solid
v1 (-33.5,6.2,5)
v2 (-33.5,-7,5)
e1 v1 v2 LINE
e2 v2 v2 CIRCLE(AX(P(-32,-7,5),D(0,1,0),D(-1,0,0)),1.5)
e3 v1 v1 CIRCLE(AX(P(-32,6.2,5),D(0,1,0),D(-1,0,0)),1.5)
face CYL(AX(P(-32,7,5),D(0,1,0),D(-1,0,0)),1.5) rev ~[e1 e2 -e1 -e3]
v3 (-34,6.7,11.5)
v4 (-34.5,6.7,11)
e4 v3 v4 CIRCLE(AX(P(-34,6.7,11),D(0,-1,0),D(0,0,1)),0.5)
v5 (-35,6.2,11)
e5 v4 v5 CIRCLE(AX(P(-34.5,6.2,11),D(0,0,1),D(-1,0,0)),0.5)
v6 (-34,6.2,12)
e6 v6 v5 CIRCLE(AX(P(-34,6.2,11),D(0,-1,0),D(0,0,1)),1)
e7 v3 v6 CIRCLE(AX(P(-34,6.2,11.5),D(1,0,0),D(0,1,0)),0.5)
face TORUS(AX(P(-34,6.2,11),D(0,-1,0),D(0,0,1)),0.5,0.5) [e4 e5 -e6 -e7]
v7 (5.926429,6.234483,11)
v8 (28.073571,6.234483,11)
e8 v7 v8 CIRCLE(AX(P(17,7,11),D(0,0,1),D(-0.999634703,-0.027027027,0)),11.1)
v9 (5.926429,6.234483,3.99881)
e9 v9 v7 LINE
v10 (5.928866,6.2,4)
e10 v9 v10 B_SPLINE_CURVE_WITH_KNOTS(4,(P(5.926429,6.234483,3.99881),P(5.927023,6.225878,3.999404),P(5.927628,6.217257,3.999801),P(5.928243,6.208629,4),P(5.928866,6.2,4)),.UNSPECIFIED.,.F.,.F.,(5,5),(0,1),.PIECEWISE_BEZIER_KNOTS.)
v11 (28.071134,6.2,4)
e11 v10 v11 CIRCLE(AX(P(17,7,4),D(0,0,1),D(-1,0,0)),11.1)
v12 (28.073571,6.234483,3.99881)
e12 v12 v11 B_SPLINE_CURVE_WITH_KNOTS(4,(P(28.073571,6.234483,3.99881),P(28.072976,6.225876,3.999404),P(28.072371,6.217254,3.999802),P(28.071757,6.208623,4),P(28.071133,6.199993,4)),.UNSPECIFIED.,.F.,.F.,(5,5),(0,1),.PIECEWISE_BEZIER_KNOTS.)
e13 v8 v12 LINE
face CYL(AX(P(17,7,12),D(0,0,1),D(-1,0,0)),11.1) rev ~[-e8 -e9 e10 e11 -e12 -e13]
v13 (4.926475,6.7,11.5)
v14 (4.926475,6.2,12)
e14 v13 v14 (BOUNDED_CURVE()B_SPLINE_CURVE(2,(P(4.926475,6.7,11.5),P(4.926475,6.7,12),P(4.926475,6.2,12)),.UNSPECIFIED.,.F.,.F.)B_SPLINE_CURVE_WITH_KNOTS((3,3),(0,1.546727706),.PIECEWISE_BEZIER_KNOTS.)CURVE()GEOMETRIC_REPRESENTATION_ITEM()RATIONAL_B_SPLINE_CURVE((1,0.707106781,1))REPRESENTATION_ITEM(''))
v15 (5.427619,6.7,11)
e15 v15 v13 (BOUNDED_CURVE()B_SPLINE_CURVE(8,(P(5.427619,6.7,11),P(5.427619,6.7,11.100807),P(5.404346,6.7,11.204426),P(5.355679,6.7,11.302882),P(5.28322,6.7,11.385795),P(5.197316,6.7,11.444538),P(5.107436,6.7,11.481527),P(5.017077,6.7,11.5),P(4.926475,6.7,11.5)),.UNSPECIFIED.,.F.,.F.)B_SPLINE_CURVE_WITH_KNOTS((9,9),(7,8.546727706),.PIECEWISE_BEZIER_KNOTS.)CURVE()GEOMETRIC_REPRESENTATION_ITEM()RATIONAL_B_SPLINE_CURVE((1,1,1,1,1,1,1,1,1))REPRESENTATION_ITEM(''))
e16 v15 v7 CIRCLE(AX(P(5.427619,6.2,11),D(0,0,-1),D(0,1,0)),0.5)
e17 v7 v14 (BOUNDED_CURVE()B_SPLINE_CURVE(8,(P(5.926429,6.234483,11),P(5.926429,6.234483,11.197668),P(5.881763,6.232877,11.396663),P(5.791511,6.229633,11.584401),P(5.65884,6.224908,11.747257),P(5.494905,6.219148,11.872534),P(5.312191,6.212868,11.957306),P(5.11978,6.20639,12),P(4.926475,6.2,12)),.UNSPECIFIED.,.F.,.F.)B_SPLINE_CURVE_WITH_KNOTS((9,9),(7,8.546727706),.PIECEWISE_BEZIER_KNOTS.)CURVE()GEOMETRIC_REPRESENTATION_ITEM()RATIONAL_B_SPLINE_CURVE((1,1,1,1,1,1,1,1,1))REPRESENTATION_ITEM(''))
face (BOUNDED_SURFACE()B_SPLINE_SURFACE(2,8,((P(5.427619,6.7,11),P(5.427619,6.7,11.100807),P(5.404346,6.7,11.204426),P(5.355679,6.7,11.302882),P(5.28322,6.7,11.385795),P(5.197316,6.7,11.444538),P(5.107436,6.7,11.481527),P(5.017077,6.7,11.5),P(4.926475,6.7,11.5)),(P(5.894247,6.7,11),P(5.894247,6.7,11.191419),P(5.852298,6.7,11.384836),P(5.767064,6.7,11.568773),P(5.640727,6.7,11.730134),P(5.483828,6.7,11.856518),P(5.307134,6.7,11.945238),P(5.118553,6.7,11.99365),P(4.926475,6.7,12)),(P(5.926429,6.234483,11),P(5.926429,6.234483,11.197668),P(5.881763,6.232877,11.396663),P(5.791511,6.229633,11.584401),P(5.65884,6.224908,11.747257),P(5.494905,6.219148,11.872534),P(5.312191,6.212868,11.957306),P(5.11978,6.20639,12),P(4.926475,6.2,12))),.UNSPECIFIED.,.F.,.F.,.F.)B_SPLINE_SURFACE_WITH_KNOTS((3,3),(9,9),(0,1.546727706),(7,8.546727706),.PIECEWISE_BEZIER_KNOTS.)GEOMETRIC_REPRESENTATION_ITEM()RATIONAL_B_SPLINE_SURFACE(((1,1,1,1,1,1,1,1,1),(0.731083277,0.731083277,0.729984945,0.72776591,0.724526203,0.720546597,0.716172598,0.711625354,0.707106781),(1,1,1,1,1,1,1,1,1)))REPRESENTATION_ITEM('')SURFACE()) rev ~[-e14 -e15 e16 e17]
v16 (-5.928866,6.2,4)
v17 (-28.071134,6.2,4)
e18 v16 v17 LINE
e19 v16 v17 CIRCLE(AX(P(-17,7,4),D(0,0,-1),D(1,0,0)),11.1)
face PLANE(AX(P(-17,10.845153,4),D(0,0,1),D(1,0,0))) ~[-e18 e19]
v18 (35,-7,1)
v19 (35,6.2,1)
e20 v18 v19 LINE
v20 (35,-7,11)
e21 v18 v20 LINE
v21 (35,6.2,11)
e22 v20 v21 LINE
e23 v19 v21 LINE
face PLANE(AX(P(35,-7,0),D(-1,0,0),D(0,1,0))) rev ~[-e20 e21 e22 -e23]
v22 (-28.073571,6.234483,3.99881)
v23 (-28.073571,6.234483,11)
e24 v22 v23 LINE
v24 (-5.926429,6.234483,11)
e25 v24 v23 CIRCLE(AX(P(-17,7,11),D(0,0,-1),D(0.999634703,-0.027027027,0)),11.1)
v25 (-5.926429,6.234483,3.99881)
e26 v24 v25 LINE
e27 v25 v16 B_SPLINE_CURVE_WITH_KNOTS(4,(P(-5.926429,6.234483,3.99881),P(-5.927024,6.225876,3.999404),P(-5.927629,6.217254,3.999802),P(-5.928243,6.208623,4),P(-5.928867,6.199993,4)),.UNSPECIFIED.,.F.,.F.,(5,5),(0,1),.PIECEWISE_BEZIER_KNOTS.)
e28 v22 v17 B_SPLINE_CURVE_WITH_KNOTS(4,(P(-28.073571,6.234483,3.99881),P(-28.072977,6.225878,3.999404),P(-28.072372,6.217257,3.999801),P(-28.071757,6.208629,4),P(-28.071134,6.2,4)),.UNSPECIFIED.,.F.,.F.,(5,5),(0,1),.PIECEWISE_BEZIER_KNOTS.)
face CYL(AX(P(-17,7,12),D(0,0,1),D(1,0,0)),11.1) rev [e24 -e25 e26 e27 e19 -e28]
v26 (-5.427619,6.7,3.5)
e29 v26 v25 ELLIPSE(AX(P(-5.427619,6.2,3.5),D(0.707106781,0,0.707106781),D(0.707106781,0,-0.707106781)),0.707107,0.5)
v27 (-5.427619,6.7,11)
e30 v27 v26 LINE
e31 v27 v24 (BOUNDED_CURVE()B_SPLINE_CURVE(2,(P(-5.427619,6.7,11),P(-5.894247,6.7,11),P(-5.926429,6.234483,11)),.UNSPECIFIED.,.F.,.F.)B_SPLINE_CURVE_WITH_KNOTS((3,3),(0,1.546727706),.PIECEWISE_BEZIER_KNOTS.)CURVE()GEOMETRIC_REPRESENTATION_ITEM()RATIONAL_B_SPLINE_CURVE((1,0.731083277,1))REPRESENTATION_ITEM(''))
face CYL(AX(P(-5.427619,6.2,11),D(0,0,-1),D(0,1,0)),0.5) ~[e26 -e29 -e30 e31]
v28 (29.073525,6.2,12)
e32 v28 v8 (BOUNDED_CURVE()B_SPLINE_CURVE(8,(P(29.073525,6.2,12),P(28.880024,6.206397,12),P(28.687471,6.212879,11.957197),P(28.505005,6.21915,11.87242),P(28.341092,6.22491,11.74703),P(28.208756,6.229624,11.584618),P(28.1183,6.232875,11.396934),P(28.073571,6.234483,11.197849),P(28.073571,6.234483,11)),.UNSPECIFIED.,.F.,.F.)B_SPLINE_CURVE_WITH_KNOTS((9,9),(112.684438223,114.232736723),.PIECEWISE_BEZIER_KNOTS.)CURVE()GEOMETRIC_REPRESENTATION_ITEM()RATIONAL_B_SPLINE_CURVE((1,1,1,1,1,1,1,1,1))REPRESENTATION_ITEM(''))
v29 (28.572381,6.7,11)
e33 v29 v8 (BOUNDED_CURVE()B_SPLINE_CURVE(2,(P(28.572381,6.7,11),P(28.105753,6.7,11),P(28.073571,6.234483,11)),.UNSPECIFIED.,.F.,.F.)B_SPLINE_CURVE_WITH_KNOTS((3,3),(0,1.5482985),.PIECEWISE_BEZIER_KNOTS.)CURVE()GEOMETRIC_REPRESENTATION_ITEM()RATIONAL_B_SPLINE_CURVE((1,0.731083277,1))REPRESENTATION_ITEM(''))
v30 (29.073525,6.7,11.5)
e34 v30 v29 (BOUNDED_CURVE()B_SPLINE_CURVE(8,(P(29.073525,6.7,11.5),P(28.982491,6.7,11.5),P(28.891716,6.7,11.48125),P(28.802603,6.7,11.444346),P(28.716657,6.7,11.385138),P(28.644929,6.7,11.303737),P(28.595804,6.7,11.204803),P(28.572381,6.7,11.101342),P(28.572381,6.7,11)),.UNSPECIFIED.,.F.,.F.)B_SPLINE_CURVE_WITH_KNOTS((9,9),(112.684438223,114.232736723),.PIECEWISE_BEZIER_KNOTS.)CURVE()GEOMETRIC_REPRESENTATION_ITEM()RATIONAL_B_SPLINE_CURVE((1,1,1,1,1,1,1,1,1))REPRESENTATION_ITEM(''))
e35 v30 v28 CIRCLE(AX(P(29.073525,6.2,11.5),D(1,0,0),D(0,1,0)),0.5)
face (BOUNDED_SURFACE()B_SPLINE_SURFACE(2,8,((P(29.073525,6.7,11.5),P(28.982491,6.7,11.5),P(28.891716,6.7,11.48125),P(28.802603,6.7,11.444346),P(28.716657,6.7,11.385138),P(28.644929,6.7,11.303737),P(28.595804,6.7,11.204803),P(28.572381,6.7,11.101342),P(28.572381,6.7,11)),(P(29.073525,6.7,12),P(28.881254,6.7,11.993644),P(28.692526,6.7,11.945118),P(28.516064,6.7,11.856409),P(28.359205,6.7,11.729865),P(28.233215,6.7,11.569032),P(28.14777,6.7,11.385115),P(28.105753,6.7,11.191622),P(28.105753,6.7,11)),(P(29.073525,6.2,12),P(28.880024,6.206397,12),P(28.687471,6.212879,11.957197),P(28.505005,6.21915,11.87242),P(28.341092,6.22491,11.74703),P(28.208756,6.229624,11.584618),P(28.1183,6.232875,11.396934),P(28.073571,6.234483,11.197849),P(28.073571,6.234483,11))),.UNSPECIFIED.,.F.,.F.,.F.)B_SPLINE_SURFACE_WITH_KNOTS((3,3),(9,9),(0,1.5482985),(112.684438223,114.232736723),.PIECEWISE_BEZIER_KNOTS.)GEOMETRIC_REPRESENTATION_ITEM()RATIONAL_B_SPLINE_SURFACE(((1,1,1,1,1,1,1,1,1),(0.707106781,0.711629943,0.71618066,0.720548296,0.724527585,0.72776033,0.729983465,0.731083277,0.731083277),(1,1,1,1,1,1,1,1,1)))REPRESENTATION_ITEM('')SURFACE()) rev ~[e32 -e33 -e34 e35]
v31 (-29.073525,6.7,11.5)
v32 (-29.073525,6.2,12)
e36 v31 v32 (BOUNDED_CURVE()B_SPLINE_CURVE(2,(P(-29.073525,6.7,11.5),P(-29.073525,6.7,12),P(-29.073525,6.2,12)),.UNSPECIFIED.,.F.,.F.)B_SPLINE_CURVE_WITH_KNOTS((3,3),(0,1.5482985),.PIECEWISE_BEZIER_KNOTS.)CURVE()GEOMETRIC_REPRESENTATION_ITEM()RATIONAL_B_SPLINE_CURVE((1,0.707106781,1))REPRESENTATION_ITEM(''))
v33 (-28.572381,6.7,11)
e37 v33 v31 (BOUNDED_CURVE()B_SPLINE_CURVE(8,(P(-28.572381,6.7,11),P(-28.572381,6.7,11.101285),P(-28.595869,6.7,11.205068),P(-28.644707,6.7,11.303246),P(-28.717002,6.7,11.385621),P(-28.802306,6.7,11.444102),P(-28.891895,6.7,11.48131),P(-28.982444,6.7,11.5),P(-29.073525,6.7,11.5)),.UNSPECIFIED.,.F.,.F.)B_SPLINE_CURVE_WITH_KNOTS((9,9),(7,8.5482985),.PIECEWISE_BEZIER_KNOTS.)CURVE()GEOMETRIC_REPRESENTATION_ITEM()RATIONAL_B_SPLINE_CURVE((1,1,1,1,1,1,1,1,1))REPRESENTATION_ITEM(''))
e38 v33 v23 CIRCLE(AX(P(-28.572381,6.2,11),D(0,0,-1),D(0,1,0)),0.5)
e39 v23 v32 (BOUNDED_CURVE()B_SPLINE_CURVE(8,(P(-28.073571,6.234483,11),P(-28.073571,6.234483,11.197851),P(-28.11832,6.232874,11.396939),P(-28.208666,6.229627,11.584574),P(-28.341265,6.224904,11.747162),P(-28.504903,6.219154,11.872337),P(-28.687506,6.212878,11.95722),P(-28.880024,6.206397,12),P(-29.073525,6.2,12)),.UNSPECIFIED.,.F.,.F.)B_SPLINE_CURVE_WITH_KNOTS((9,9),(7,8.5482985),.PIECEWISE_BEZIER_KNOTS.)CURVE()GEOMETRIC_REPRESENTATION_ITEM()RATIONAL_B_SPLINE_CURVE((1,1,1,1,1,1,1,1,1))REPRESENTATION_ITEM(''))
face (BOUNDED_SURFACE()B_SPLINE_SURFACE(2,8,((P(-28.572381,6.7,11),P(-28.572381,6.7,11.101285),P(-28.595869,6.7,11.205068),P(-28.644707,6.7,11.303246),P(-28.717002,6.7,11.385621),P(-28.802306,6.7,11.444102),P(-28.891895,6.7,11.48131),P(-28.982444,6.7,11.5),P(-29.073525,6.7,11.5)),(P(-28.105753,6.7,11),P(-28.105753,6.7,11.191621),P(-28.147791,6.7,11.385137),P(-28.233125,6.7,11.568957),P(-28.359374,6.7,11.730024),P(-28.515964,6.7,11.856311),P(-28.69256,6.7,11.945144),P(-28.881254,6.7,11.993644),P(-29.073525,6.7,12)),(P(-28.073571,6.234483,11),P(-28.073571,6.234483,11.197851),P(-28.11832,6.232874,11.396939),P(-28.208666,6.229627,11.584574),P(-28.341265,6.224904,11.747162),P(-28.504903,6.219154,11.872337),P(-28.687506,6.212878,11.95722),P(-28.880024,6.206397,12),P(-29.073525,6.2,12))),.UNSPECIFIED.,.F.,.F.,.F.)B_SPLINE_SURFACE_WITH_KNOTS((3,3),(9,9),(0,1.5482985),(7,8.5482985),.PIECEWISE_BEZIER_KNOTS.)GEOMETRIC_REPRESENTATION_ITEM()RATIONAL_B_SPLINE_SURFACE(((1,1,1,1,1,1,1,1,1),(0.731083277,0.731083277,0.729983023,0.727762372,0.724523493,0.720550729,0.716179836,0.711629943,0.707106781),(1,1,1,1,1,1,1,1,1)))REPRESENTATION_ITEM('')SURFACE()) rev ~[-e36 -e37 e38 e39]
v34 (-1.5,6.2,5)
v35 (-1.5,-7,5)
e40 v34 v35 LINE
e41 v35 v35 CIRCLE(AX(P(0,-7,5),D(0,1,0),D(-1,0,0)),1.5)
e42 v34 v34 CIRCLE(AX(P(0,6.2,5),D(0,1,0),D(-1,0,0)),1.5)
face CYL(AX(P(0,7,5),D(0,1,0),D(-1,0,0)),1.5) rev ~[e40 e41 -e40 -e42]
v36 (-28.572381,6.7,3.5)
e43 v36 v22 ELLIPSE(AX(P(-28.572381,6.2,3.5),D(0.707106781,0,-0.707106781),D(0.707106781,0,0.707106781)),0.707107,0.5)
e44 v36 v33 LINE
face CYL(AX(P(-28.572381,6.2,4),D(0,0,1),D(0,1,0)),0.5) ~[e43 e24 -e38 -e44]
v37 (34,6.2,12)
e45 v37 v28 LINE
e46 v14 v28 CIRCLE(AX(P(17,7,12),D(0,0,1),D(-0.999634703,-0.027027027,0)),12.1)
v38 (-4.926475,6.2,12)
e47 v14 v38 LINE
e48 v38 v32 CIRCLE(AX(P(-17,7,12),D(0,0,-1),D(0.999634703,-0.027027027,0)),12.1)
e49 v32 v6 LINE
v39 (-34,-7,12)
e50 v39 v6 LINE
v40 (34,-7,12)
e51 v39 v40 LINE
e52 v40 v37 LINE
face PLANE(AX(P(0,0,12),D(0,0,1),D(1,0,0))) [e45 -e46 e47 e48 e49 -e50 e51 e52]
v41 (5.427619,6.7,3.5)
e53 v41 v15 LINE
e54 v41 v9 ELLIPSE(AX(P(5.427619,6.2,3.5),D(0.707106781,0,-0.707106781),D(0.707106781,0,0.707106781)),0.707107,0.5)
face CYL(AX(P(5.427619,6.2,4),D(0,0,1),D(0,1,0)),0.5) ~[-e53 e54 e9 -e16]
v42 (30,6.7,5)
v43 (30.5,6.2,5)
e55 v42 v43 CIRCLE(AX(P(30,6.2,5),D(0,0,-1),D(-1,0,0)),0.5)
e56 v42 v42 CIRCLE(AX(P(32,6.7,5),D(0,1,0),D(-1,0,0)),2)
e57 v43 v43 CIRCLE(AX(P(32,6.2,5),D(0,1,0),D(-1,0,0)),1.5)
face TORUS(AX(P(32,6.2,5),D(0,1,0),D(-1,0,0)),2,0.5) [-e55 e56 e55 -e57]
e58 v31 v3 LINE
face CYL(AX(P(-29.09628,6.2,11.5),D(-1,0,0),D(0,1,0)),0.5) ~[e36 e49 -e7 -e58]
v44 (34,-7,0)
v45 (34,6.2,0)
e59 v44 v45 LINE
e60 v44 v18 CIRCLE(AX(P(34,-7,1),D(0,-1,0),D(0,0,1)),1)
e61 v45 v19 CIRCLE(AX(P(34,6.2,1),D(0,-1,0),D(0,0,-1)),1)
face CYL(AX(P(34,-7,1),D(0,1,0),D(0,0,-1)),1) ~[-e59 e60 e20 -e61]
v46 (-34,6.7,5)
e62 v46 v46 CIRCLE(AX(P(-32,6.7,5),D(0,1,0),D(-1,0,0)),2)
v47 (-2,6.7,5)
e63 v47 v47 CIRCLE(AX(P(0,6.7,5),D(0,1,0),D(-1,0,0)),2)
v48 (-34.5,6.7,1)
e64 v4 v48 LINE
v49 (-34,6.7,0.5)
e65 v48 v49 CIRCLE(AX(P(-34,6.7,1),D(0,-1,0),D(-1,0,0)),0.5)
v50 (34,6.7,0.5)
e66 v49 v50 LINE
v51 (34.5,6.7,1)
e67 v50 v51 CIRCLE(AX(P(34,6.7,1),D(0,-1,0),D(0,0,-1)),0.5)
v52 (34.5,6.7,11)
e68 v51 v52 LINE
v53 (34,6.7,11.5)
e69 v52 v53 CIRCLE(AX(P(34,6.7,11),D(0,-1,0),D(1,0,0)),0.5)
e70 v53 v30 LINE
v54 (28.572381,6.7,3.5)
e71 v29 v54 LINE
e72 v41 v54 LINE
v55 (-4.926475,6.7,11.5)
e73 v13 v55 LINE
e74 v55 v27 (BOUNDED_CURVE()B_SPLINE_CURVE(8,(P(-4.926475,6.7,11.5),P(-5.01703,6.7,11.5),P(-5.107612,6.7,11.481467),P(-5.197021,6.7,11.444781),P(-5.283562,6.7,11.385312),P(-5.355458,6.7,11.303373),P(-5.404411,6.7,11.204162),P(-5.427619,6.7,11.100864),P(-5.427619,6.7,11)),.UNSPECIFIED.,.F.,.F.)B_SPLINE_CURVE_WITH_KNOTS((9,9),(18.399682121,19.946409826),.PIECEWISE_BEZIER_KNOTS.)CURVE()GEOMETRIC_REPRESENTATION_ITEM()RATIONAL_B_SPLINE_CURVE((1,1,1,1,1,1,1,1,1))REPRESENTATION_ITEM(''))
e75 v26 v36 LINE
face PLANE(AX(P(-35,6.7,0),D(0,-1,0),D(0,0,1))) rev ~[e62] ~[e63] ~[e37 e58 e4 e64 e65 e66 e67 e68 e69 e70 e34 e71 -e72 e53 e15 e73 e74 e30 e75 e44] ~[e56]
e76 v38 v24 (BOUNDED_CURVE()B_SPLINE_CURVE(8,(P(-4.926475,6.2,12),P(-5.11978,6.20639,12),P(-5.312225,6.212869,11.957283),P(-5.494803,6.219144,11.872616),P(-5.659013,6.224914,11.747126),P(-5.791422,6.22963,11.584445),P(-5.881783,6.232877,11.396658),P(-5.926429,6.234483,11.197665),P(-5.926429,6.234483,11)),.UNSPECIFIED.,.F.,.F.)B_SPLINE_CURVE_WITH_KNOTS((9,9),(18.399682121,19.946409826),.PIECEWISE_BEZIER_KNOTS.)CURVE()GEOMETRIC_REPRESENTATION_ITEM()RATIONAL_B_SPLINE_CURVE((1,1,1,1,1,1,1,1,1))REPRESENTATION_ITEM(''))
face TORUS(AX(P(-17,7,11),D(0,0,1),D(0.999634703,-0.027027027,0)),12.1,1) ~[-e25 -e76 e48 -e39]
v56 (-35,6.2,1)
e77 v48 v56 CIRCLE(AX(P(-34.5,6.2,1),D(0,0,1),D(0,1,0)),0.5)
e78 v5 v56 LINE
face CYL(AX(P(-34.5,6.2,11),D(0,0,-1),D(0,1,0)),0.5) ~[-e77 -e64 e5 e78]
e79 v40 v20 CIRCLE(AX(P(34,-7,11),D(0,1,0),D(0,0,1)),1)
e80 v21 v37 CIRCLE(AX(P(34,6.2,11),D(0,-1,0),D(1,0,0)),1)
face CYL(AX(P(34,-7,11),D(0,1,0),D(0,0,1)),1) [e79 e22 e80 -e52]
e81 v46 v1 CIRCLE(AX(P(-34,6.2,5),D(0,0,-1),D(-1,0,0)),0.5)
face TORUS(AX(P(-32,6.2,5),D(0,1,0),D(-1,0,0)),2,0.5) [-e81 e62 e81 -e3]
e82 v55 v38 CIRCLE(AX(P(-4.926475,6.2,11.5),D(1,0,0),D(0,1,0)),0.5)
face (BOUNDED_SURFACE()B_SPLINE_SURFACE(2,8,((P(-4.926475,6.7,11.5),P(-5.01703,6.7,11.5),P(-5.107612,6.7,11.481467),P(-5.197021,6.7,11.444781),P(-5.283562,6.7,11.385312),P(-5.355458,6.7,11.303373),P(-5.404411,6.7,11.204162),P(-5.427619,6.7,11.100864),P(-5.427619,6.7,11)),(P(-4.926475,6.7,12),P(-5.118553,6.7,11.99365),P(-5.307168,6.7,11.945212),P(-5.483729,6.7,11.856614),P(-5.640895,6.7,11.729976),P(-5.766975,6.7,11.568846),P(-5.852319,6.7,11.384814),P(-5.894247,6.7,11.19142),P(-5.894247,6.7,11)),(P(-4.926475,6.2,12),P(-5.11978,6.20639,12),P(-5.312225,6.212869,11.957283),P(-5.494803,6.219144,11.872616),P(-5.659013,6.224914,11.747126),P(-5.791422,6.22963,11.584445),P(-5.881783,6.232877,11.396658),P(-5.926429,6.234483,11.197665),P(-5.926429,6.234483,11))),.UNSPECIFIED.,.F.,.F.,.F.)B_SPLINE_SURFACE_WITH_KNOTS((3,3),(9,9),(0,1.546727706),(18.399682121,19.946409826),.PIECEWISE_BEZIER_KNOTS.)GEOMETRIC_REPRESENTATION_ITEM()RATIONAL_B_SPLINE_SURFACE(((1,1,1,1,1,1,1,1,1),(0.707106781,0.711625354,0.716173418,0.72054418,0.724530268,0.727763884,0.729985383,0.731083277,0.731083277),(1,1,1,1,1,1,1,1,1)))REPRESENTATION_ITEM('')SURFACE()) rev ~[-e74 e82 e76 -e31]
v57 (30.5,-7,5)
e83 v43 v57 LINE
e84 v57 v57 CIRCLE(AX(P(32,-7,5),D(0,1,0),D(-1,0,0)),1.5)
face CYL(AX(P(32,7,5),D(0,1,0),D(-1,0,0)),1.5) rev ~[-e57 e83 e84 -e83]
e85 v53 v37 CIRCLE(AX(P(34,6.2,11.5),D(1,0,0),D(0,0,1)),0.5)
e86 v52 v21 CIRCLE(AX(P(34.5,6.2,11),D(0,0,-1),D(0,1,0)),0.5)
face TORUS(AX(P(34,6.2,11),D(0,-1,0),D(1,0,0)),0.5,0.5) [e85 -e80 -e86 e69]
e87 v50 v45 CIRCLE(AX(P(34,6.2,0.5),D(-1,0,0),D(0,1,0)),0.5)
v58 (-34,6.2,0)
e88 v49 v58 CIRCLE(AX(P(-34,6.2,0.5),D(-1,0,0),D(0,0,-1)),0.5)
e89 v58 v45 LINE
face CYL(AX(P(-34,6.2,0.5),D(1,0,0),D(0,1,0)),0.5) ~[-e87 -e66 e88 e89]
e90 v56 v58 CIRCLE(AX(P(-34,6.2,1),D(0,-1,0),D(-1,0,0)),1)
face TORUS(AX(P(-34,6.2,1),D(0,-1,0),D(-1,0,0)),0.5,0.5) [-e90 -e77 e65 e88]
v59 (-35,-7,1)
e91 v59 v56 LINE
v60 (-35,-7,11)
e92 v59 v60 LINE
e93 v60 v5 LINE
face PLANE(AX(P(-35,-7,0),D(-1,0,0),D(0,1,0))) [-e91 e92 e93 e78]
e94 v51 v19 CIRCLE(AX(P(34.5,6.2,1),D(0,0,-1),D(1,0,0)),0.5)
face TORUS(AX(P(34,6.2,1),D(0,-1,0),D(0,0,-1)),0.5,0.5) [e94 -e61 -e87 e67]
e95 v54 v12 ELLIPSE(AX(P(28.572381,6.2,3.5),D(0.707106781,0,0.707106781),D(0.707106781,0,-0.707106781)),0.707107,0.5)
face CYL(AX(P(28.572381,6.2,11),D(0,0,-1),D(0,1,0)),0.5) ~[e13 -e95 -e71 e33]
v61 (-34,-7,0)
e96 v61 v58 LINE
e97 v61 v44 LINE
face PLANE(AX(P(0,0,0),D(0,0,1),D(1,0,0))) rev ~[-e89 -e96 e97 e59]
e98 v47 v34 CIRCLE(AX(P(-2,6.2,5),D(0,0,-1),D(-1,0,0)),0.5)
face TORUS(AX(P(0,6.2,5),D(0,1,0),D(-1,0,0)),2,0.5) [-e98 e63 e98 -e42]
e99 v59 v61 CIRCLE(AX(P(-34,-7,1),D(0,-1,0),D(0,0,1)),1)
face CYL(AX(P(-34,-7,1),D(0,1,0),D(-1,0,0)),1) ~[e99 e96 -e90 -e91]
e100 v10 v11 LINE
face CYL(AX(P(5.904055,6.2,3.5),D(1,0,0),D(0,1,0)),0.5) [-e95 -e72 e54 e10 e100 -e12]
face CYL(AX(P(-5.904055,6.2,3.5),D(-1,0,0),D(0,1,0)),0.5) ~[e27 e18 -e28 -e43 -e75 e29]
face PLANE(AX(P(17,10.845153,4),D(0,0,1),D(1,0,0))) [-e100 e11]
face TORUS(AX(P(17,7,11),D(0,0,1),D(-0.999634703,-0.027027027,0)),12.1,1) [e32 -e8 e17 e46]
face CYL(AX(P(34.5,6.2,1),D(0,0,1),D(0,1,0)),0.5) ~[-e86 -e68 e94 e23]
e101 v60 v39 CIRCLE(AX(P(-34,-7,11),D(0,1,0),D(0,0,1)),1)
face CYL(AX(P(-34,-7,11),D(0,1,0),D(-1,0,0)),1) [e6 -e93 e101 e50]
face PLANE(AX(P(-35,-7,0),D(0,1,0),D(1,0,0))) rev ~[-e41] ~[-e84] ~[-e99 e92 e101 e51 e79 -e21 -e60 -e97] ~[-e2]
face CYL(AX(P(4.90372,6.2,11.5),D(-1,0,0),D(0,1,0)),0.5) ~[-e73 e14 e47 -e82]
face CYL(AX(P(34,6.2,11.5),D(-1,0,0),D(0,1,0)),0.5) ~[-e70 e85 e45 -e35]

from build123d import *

# Parameters (mm, degrees)
SKETCH1_W           = 70
SKETCH1_H           = 14
BOSS_EXTRUDE1_DEPTH = 12
CUT_EXTRUDE1_DEPTH  = 8
SKETCH3_R           = 1.5
CUT_EXTRUDE2_DEPTH  = 40.56008089
SKETCH4_W           = 12
SKETCH4_H           = 0.3
CUT_EXTRUDE3_DEPTH  = 72.365257654
FILLET1_R           = 1
FILLET2_R           = 0.5


with BuildPart() as part:
    # Sketch1 → Boss-Extrude1 (new body)
    with BuildSketch(Plane.XY):
        Rectangle(SKETCH1_W, SKETCH1_H)
    extrude(amount=BOSS_EXTRUDE1_DEPTH)

    # Sketch2 → Cut-Extrude1 (cut)
    with BuildSketch(Plane.XY.offset(12)):
        with BuildLine():
            Line((5.9, 7), (28.1, 7))
            ThreePointArc((28.1, 7), (17, 18.1), (5.9, 7))
        make_face()
        with BuildLine():
            ThreePointArc((5.9, 7), (17, -4.1), (28.1, 7))
            Line((28.1, 7), (5.9, 7))
        make_face()
    cut_extrude1 = extrude(amount=-CUT_EXTRUDE1_DEPTH, mode=Mode.SUBTRACT)

    # Mirror1: Cut-Extrude1 across plane
    add(cut_extrude1.mirror(Plane(origin=(0, 0, 0), x_dir=(0, 0, 1), z_dir=(1, 0, 0))), mode=Mode.SUBTRACT)

    # Sketch3 → Cut-Extrude2 (cut, through all)
    with BuildSketch(Plane(origin=(0, 7, 0), x_dir=(1, 0, 0), z_dir=(0, 1, 0))):
        with Locations(Location((-32, -5, 0), (0, 0, 180))):
            Circle(SKETCH3_R)
        with Locations(Location((0, -5, 0), (0, 0, 180))):
            Circle(SKETCH3_R)
        with Locations(Location((32, -5, 0), (0, 0, 180))):
            Circle(SKETCH3_R)
    extrude(amount=-CUT_EXTRUDE2_DEPTH, mode=Mode.SUBTRACT)

    # Sketch4 → Cut-Extrude3 (cut, through all)
    with BuildSketch(Plane.ZY.offset(35)):
        with Locations((6, 6.85)):
            Rectangle(SKETCH4_W, SKETCH4_H)
    extrude(amount=-CUT_EXTRUDE3_DEPTH, mode=Mode.SUBTRACT)

    # Fillet1
    fillet1_edges = [part.edges().sort_by_distance(p)[0] for p in [
        (35, -0.15, 12),
        (-17, -4.1, 12),
        (35, -0.15, 0),
        (17, -4.1, 12),
        (-35, -0.15, 0),
        (-35, -0.15, 12),
    ]]
    fillet(fillet1_edges, radius=FILLET1_R)

    # Fillet2
    fillet2_edges = [part.edges().sort_by_distance(p)[0] for p in [
        (-30.5, 6.7, 5),
        (33.5, 6.7, 5),
        (1.5, 6.7, 5),
        (5.904054795, 6.7, 7.5),
        (-17, 6.7, 4),
        (-5.904054795, 6.7, 7.5),
        (17, 6.7, 4),
        (35, 6.7, 6),
        (31.54814021, 6.7, 12),
        (0, 6.7, 0),
        (-35, 6.7, 6),
        (-31.54814021, 6.7, 12),
        (-28.095945205, 6.7, 7.5),
        (0, 6.7, 12),
        (28.095945205, 6.7, 7.5),
        (-34.707106781, 6.7, 11.707106781),
        (-34.707106781, 6.7, 0.292893219),
        (-5.611001162, 6.7, 11.707162854),
        (-28.389554556, 6.7, 11.707717855),
        (5.611001162, 6.7, 11.707162854),
        (28.389554556, 6.7, 11.707717855),
        (34.707106781, 6.7, 11.707106781),
        (34.707106781, 6.7, 0.292893219),
    ]]
    fillet(fillet2_edges, radius=FILLET2_R)


solid = part.part
